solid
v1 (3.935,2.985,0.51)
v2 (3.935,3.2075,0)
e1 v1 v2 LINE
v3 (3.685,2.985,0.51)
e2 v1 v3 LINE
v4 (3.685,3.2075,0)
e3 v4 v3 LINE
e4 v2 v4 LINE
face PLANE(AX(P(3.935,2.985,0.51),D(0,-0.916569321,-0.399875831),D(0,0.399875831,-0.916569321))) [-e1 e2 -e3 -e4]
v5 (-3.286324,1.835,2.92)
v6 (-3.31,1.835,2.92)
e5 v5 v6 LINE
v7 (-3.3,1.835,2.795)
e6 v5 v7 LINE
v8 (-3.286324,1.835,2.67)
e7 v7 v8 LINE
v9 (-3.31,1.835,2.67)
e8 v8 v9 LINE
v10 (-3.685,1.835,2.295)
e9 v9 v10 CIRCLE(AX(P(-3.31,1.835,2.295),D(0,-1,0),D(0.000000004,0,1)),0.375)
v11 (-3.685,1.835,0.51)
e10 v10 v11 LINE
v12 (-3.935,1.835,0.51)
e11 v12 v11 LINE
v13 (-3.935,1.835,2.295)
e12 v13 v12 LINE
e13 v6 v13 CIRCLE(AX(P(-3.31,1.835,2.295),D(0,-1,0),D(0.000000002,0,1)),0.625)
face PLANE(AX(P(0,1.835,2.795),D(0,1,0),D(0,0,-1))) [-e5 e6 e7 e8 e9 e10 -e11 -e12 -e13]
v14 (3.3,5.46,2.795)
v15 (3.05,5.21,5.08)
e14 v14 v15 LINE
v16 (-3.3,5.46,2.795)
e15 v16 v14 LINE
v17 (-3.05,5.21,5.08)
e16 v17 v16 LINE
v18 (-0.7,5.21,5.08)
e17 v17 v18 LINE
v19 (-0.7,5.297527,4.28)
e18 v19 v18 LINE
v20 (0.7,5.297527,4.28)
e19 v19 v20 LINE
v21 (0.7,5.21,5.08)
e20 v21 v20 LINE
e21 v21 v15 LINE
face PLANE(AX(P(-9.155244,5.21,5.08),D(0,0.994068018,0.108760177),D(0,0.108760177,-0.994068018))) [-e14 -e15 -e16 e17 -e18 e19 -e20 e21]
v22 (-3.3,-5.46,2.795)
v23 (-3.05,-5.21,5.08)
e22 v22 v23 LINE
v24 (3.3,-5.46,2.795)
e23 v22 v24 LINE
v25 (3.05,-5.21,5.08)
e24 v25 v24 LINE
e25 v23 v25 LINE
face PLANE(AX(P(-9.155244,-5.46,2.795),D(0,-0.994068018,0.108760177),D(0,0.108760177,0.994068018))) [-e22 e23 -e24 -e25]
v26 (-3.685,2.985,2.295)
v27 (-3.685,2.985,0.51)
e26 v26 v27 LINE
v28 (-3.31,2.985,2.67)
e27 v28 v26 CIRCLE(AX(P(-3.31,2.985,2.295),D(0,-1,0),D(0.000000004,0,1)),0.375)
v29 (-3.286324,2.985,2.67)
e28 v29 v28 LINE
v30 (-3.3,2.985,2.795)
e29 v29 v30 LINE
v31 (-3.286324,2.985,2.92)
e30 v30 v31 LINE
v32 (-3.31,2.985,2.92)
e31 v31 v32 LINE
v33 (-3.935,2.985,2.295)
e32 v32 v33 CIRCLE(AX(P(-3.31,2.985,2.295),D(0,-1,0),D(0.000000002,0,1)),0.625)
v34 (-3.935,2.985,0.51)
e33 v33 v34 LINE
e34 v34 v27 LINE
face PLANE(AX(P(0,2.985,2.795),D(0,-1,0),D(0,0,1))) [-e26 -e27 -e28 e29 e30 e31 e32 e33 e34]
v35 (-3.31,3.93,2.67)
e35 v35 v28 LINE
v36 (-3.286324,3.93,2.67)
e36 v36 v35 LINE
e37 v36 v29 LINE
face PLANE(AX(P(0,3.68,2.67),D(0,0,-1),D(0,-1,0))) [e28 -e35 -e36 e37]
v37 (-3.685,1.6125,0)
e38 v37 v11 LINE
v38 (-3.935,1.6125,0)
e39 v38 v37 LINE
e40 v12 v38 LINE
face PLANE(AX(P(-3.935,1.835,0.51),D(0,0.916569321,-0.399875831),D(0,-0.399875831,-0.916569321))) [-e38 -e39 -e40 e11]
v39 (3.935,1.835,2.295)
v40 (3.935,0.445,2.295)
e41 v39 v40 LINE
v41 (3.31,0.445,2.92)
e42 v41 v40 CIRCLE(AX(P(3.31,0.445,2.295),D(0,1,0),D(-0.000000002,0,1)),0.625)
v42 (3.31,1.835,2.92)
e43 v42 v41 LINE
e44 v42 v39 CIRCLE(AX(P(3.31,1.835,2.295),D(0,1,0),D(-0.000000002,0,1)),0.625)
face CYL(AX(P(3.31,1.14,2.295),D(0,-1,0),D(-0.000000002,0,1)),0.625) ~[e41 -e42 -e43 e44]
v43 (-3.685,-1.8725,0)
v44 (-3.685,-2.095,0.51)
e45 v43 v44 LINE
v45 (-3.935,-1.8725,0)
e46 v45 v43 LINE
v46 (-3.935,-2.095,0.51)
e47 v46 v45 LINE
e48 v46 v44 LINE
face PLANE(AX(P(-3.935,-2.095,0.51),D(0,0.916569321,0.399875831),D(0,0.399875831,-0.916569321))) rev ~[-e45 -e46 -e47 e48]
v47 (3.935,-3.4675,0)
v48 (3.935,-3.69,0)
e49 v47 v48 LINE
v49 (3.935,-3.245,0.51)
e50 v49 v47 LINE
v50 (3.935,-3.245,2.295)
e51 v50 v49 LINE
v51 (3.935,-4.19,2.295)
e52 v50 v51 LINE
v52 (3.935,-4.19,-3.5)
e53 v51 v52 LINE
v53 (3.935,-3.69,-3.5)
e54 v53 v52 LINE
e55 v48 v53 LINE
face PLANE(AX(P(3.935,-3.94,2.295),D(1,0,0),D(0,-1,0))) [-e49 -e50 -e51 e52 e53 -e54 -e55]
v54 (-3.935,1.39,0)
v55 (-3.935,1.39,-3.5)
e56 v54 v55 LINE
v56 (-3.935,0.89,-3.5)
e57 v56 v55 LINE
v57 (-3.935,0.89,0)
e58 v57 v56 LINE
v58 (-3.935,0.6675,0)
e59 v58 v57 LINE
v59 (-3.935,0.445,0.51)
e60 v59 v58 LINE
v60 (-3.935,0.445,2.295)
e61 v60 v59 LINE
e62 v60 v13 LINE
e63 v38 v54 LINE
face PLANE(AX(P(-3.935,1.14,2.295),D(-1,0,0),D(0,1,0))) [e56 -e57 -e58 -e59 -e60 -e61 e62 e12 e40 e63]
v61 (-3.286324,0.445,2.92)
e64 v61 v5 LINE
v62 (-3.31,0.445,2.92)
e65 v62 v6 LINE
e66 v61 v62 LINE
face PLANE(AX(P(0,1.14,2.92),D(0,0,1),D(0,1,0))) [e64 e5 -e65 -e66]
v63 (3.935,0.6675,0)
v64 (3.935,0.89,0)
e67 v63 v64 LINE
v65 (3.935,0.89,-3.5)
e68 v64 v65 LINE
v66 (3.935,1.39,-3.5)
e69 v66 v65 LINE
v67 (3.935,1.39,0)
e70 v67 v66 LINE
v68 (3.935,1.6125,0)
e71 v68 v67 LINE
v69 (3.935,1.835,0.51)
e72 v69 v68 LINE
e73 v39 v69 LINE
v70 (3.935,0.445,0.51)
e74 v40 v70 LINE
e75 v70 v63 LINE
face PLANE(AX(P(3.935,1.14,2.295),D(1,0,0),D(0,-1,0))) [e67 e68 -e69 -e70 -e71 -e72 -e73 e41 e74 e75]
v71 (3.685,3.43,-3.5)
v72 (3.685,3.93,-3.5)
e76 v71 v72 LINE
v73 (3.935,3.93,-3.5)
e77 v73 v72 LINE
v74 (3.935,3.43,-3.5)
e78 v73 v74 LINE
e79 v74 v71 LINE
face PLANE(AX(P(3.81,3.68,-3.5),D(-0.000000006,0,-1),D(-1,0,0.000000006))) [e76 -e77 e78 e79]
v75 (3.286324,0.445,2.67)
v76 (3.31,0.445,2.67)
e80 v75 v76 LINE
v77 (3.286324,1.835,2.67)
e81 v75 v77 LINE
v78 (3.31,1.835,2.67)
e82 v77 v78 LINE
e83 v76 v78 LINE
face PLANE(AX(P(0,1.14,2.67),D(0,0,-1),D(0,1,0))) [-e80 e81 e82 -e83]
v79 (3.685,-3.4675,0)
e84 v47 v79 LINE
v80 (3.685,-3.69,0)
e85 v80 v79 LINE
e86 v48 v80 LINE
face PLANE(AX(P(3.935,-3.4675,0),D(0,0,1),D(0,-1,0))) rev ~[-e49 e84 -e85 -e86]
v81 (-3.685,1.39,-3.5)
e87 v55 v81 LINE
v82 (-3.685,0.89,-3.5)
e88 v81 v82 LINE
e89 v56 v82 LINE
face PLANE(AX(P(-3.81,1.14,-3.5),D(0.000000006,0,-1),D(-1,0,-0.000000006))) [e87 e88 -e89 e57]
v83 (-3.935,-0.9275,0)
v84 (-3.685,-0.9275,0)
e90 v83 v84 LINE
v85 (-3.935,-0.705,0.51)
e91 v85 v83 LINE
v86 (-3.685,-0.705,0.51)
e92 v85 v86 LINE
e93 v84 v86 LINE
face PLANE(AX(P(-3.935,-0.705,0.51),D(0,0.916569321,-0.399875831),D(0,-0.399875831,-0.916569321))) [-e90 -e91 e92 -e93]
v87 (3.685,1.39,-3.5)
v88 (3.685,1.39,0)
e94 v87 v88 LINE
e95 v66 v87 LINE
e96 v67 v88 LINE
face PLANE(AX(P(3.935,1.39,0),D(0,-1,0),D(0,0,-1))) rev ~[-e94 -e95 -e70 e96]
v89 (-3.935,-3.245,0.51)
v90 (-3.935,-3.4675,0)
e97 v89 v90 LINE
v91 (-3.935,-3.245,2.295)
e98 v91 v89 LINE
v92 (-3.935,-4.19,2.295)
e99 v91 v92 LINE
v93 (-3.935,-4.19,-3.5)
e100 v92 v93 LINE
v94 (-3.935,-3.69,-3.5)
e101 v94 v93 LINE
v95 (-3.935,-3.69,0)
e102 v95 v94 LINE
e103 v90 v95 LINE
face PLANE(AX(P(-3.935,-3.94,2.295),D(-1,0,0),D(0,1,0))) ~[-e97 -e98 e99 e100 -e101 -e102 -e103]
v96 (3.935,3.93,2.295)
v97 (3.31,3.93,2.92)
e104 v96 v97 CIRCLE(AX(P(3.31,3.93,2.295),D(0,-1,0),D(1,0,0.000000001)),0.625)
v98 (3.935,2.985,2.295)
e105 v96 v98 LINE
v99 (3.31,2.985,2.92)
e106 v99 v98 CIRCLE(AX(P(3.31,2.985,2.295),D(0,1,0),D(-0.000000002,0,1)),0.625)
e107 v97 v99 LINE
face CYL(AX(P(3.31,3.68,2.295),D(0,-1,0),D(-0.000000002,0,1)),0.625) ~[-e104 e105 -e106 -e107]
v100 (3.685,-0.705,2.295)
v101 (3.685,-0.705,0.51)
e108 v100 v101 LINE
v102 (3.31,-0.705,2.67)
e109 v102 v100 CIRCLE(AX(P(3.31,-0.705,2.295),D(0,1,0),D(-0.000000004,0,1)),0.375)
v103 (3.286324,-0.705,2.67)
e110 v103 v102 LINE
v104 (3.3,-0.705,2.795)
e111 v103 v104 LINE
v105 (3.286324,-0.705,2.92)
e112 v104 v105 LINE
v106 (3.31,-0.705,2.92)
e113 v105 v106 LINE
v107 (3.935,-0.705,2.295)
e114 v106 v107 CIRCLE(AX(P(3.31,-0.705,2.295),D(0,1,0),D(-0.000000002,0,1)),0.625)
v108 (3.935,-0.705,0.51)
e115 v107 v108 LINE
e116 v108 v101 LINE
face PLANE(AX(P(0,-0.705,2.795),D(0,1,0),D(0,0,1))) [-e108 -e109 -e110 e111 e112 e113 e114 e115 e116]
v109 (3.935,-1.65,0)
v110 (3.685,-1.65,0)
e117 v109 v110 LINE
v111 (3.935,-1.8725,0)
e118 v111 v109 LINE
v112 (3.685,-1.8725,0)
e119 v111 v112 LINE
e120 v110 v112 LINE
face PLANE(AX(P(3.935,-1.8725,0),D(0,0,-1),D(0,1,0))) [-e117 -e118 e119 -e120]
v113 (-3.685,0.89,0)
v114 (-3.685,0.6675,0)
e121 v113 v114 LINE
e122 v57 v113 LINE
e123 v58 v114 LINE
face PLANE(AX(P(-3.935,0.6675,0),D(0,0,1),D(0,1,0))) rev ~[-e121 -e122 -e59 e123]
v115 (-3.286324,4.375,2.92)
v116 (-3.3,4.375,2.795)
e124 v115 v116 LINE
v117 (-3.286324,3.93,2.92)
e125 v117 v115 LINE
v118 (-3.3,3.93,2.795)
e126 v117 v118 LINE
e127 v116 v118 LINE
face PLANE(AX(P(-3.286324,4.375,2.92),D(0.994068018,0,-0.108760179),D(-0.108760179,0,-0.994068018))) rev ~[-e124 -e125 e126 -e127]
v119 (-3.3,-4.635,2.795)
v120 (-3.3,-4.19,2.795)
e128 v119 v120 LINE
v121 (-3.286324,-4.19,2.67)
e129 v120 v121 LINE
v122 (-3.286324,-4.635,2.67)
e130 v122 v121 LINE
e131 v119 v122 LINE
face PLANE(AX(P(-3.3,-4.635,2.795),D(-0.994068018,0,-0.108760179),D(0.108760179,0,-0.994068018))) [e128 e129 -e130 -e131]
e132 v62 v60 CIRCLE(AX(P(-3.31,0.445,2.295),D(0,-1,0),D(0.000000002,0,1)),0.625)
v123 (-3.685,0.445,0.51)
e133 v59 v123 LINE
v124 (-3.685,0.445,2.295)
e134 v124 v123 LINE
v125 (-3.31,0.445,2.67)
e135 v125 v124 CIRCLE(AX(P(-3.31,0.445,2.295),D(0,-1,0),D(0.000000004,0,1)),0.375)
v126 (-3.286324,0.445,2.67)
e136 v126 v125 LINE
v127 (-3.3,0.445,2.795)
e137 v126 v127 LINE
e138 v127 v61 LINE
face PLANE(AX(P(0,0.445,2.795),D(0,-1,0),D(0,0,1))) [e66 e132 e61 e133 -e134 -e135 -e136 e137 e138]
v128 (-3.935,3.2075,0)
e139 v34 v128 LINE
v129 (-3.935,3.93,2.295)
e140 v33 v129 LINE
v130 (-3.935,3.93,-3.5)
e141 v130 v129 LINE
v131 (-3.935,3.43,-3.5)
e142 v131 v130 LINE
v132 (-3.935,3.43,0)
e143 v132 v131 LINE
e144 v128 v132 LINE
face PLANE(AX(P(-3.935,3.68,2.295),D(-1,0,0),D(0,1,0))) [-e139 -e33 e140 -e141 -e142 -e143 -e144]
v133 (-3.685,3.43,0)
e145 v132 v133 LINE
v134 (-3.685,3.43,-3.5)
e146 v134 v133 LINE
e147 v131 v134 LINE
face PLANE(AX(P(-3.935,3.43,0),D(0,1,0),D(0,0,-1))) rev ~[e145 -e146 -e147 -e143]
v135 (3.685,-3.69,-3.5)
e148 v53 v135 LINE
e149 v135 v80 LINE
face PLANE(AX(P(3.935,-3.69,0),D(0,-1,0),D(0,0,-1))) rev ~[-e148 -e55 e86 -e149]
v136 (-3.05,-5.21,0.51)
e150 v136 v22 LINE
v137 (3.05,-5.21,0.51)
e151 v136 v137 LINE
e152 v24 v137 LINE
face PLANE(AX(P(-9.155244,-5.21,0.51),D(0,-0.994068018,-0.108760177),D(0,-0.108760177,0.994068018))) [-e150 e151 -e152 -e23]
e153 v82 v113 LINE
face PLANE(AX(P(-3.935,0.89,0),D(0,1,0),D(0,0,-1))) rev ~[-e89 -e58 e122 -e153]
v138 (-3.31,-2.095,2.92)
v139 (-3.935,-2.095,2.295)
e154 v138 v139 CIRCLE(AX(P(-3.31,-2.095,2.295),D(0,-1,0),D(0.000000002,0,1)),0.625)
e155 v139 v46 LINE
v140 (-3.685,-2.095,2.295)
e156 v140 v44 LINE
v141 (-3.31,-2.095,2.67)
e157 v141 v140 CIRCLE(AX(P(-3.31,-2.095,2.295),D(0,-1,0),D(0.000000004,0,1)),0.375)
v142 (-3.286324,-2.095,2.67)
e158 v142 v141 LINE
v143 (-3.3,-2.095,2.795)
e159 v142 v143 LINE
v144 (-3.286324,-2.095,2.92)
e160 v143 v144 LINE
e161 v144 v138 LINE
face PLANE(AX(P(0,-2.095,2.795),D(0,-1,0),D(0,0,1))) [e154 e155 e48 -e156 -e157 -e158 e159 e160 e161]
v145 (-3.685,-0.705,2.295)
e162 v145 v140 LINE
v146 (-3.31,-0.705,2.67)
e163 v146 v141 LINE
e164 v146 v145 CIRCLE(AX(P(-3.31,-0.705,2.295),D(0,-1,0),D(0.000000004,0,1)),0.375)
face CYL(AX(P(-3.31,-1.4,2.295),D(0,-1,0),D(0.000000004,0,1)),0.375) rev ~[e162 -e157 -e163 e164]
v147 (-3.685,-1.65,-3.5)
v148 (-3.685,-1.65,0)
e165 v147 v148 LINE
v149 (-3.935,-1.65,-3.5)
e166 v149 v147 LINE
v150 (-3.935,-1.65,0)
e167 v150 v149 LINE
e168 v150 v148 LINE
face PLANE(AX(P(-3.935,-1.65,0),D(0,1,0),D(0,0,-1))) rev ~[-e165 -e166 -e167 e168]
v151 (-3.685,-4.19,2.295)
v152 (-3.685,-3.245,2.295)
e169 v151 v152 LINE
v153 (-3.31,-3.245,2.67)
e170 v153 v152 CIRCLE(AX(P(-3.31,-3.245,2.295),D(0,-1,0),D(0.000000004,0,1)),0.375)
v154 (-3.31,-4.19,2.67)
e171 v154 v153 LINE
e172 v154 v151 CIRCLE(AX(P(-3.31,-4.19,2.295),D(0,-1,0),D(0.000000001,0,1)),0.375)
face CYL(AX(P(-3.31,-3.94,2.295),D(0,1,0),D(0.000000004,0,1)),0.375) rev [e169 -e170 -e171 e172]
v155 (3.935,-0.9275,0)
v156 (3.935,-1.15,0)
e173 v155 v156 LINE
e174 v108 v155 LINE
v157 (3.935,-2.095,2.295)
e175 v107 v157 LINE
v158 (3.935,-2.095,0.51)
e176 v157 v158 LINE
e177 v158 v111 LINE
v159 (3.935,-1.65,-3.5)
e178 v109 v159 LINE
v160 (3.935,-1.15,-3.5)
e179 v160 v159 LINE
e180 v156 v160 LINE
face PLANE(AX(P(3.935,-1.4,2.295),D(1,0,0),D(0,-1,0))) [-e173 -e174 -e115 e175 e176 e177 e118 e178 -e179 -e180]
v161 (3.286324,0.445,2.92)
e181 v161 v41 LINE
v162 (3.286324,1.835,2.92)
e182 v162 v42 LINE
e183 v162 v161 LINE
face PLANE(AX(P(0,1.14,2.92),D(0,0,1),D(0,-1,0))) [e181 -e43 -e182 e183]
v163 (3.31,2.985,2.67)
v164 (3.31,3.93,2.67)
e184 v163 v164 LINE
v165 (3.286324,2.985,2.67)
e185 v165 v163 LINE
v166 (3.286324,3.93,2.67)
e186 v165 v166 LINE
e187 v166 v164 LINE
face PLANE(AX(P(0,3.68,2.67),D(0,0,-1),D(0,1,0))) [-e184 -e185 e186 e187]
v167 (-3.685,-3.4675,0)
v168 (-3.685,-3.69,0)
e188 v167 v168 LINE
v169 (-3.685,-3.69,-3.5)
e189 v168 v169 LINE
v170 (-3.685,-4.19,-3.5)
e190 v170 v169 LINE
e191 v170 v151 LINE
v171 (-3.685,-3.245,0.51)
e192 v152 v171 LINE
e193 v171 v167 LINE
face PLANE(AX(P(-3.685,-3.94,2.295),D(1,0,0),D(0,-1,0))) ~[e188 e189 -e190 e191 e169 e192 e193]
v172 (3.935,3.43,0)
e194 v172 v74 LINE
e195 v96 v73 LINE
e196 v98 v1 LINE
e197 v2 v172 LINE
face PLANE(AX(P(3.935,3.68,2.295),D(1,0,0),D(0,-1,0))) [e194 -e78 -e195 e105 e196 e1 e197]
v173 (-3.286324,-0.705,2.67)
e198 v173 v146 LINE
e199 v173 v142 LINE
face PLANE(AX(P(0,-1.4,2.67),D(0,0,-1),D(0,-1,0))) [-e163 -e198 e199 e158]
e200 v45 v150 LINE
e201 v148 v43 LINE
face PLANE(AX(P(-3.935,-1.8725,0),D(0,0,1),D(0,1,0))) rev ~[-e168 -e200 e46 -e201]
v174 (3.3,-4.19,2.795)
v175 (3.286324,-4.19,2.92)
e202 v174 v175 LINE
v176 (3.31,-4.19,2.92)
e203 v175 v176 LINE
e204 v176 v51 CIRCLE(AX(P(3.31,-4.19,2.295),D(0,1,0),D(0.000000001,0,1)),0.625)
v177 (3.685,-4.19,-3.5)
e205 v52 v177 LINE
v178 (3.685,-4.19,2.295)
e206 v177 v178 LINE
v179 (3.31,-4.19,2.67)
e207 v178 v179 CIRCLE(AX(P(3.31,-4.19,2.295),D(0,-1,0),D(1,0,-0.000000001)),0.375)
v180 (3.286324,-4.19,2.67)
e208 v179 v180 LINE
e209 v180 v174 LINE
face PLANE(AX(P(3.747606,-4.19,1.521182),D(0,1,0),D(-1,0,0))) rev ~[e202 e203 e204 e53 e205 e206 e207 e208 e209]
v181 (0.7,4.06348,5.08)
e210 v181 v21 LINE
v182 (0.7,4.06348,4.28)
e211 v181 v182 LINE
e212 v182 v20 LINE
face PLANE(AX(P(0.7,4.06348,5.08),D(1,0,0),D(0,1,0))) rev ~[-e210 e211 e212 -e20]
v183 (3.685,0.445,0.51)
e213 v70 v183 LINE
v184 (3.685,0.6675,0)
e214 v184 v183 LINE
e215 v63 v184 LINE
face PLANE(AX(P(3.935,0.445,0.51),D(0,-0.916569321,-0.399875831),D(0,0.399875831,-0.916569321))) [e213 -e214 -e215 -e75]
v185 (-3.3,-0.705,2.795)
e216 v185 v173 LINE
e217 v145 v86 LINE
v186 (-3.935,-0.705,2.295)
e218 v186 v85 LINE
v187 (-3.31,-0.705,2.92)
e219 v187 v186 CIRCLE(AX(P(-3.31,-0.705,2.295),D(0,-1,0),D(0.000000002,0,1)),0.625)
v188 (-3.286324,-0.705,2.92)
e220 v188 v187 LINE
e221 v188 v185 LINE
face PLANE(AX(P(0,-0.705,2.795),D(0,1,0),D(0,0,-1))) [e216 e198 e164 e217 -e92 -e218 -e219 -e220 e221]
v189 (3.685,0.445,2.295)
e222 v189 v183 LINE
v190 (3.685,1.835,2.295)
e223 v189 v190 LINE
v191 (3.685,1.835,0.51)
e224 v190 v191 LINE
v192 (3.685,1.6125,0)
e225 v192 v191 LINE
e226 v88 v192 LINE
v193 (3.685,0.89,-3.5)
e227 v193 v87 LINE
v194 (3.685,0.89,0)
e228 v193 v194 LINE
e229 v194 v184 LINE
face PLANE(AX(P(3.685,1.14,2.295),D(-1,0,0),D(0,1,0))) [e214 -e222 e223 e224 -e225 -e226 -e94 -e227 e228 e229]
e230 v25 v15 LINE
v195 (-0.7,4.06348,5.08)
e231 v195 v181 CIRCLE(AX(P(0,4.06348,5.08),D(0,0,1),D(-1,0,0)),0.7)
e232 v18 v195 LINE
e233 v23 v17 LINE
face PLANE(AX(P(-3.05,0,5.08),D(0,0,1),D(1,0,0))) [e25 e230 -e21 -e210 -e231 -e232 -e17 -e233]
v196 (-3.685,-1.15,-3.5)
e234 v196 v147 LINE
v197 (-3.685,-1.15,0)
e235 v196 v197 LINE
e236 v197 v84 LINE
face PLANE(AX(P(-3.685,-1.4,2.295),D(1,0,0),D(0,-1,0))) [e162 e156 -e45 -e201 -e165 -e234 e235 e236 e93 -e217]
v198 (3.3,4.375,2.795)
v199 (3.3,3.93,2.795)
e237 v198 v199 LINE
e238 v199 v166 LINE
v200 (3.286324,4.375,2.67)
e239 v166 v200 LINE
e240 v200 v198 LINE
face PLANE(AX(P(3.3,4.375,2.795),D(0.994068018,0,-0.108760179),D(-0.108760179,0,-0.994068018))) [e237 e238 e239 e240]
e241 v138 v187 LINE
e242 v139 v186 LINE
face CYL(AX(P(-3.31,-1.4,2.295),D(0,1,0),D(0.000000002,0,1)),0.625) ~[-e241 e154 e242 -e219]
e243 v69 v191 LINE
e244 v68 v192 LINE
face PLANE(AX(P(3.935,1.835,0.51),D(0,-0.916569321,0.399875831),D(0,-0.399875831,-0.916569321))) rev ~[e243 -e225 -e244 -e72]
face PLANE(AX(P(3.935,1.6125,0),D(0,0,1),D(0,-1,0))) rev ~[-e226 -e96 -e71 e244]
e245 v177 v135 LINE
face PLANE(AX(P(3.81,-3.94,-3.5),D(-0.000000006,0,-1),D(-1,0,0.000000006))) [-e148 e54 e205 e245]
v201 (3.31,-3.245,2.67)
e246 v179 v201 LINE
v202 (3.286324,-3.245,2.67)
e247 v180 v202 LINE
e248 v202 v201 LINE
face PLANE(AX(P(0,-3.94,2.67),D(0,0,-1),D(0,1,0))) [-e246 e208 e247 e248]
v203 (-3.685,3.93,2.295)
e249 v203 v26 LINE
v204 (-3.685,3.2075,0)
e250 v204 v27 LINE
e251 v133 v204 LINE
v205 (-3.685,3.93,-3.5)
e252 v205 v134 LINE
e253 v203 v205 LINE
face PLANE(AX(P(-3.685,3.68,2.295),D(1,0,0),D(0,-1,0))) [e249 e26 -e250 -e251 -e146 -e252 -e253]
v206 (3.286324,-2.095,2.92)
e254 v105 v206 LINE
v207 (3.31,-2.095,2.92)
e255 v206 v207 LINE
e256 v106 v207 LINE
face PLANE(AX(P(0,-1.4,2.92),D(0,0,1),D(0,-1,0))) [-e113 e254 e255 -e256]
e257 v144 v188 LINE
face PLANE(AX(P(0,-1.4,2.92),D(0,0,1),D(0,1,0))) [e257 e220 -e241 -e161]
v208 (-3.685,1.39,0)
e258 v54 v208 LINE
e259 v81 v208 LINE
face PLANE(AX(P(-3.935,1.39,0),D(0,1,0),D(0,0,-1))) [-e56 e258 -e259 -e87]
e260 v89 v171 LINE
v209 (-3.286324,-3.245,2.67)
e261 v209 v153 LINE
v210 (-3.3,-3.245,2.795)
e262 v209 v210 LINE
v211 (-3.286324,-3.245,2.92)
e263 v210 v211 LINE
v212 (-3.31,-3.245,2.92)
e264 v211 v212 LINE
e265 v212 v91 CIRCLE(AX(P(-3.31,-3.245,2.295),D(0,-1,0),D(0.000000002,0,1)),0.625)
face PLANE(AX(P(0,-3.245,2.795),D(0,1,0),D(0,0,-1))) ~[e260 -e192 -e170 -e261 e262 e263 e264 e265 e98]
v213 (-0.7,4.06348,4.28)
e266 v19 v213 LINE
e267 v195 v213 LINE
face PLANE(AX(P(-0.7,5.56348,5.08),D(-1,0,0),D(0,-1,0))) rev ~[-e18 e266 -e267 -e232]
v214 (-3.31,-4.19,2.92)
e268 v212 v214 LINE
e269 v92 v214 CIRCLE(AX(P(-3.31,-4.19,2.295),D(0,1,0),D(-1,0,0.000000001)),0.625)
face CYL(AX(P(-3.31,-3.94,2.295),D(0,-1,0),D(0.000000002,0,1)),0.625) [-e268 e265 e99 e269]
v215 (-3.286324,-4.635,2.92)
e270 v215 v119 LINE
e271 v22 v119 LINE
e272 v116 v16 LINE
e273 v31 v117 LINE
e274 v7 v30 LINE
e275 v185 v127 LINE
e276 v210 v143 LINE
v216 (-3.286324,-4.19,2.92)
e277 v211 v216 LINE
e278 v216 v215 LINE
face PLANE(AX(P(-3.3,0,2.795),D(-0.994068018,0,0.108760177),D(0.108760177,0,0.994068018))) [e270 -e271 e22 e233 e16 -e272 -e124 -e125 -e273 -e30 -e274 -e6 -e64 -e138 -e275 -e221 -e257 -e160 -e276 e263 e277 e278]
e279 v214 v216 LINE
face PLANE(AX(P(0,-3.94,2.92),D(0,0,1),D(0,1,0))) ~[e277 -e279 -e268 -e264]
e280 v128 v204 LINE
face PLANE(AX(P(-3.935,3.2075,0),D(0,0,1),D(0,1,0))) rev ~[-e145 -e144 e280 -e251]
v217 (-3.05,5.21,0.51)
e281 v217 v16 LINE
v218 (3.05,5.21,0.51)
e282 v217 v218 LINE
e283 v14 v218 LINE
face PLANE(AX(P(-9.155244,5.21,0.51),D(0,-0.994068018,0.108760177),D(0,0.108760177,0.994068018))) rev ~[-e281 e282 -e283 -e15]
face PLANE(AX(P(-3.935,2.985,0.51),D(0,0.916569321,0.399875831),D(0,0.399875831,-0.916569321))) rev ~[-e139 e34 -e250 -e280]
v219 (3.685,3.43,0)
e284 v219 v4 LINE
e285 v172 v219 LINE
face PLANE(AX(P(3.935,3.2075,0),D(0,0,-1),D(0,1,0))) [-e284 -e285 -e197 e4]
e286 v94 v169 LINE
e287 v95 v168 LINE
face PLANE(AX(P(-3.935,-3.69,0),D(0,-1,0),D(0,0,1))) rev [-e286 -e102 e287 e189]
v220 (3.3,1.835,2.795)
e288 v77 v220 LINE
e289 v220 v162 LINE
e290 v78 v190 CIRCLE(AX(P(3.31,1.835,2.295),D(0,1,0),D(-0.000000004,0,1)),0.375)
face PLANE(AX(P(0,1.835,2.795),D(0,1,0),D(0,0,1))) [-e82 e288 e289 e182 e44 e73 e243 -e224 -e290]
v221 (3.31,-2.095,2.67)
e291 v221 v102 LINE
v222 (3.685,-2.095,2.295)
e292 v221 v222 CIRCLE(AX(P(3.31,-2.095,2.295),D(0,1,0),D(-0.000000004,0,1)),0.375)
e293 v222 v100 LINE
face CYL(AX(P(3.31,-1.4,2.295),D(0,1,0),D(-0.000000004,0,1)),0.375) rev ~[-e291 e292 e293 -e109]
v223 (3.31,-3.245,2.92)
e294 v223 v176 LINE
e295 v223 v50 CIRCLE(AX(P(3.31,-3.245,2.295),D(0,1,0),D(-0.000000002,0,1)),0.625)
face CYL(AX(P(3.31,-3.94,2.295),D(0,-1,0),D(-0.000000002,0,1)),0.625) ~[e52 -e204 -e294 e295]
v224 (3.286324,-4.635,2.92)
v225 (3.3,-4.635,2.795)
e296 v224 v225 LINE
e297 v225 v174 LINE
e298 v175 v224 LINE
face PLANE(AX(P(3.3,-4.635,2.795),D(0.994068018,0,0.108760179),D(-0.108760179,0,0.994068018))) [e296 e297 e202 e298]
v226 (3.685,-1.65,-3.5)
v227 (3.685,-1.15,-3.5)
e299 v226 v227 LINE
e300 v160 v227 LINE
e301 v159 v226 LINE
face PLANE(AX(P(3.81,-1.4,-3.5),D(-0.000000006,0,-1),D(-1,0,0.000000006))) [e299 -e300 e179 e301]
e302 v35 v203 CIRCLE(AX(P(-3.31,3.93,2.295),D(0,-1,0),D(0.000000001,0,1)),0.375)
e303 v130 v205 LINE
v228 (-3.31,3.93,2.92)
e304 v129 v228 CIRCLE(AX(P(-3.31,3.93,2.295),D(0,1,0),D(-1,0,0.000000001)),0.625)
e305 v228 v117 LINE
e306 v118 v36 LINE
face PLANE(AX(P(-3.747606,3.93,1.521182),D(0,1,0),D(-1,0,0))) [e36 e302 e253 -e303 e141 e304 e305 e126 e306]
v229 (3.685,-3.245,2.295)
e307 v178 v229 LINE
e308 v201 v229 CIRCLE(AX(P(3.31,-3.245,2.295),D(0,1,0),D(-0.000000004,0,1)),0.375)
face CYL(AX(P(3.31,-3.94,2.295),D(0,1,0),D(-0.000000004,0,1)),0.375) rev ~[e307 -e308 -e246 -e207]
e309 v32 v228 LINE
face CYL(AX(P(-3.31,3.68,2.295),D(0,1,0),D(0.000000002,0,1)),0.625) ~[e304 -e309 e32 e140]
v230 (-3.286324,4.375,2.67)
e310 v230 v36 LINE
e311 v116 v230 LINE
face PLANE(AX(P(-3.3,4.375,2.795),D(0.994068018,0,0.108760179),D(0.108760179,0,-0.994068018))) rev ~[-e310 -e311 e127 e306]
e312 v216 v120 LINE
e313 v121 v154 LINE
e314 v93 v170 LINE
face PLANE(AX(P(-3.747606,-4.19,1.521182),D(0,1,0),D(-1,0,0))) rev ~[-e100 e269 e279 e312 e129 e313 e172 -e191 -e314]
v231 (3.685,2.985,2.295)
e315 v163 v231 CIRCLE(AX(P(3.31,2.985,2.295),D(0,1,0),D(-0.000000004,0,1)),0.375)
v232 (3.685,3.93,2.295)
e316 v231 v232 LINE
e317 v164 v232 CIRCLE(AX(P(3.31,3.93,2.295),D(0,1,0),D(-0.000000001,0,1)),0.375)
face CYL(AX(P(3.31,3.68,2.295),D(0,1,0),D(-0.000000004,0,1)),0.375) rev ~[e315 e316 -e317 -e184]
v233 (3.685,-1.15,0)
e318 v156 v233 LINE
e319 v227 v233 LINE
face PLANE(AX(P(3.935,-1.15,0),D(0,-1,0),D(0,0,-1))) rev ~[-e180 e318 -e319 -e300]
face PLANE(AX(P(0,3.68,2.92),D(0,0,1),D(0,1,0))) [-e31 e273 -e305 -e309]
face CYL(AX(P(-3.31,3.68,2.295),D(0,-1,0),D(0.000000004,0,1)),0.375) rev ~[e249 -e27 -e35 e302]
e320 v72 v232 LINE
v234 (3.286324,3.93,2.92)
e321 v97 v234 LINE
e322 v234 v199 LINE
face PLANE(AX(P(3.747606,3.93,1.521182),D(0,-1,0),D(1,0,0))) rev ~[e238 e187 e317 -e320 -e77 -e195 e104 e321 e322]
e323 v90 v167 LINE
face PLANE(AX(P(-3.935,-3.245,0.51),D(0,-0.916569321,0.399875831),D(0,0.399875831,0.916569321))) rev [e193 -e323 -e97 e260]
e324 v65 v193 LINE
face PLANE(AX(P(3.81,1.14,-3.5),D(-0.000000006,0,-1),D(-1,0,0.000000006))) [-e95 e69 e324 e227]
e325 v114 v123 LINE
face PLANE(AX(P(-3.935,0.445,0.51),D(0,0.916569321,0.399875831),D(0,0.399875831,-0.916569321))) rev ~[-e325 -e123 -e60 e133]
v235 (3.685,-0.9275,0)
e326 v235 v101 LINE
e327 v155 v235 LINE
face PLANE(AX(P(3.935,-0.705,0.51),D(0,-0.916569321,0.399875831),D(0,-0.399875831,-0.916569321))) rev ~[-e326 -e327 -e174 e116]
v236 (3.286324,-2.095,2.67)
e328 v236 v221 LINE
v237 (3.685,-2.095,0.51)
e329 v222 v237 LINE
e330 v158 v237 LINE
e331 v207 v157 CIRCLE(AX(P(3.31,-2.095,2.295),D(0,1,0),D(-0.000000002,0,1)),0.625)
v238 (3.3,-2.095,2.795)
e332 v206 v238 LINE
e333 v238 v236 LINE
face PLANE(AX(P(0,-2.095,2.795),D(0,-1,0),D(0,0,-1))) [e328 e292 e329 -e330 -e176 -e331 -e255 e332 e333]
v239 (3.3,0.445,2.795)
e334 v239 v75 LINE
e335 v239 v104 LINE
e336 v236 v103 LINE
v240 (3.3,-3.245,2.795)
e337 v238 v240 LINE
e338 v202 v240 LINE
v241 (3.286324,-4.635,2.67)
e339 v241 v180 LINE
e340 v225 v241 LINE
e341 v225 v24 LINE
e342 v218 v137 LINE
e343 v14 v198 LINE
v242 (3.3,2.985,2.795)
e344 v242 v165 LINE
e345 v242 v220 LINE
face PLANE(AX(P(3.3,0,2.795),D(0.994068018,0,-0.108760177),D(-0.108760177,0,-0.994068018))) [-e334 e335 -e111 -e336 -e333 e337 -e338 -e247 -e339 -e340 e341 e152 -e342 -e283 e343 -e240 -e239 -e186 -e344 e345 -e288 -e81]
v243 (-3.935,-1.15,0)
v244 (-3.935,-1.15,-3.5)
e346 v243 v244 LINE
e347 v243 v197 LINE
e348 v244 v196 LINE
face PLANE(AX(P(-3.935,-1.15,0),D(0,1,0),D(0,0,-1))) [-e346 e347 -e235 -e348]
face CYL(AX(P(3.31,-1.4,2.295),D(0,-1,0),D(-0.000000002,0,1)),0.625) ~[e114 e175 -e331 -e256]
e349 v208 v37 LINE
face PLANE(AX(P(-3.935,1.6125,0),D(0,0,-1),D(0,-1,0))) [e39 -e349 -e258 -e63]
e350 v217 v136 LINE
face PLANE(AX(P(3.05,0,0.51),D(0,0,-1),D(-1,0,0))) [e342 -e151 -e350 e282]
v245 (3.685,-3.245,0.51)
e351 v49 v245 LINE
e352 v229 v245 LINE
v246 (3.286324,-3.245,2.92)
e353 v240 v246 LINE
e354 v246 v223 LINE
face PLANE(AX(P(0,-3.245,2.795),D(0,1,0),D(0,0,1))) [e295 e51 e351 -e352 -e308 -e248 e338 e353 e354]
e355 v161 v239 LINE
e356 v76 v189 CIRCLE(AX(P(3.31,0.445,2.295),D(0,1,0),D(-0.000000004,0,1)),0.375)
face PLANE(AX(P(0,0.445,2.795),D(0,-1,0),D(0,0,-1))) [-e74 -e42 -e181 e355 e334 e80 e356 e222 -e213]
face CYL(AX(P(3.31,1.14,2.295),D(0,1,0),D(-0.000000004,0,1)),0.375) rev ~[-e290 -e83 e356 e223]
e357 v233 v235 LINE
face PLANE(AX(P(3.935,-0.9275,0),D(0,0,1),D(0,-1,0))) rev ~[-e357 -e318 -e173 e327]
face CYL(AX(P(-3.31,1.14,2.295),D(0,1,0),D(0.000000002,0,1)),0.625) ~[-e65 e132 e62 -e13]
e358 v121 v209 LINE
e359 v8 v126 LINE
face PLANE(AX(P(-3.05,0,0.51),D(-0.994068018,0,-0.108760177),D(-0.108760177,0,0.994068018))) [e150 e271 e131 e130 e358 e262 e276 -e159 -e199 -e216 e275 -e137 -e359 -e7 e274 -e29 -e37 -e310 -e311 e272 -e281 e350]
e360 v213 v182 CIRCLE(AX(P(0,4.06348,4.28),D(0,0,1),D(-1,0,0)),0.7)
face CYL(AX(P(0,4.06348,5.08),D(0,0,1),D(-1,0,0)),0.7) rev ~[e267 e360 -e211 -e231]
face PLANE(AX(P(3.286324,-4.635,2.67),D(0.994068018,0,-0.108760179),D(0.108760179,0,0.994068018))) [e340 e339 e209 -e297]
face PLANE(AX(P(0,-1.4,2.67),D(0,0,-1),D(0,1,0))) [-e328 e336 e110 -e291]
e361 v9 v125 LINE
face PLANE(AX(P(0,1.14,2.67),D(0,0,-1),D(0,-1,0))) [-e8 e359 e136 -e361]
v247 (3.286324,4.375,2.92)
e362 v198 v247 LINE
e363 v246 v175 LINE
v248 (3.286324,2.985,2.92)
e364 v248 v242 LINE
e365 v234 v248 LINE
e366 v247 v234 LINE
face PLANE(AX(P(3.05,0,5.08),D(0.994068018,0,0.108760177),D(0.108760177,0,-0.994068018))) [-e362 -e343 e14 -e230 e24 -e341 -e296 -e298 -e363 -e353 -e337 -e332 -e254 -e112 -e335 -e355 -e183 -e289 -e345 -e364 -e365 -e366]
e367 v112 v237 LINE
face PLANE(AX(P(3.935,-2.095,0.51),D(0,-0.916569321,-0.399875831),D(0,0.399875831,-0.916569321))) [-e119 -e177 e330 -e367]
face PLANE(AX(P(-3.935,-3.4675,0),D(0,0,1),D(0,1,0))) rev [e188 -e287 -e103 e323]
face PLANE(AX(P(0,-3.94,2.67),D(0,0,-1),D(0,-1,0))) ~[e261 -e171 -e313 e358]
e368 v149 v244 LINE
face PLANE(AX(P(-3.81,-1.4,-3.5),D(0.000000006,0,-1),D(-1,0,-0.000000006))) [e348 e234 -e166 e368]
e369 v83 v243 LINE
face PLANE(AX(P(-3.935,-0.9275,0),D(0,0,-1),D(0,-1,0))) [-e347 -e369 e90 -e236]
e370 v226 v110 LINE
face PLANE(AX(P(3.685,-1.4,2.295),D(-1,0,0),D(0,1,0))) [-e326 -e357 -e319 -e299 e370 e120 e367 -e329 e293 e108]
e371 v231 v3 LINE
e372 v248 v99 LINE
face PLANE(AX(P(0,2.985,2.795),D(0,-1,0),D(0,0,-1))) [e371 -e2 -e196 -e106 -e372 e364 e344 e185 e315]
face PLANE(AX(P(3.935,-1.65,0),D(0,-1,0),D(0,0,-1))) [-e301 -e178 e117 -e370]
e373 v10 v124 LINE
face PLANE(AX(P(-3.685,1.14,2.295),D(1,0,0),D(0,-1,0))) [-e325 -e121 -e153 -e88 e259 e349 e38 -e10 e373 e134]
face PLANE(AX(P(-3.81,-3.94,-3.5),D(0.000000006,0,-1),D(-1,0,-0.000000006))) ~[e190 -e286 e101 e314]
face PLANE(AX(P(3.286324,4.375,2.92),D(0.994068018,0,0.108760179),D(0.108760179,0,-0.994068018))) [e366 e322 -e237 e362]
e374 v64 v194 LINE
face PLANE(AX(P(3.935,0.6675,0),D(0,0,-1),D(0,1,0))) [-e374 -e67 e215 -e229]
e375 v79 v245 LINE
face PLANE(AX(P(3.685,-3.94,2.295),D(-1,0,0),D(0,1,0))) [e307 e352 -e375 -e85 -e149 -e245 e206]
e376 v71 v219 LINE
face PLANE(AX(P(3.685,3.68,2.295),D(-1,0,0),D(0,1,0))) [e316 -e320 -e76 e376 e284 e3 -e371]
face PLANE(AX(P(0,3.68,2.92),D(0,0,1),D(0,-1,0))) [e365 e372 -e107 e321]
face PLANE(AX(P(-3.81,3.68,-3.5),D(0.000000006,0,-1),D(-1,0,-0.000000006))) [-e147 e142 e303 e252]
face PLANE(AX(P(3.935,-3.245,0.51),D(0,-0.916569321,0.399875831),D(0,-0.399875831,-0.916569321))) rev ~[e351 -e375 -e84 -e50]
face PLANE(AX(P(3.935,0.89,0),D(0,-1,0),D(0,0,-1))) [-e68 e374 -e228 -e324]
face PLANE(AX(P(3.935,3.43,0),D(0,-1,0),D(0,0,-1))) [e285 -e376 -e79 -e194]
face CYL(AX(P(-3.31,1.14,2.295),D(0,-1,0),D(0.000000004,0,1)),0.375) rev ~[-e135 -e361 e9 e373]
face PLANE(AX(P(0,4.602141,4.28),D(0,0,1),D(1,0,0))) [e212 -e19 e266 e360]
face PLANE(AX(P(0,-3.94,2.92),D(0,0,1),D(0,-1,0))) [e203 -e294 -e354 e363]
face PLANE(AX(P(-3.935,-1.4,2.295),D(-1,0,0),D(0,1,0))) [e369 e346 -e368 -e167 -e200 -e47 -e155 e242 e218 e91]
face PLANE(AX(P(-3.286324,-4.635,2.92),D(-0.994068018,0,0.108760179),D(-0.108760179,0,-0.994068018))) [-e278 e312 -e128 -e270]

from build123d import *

# Parameters (mm, degrees)
BASIC_SHAPE_DEPTH              = 5.46
SIDE_PROFILE1_DEPTH            = 9.155243712
SIDE_PROFILE1_DEPTH_BACK       = 9.155243712
SIDE_PROFILE2_DEPTH            = 9.155243712
SIDE_PROFILE2_DEPTH_BACK       = 9.155243712
LOCATION_MARK_DEPTH            = 0.8
SKETCH6_W                      = 0.25
SKETCH6_H                      = 1.39
PIN_RELIEF_DEPTH               = 11.390535357
REMAINING_PINS_COUNT           = 4
REMAINING_PINS_PITCH           = 2.54
REMAINING_PINS_COPY_1_SKETCH_W = 0.25
REMAINING_PINS_COPY_1_SKETCH_H = 1.39
REMAINING_PINS_COPY_2_SKETCH_W = 0.25
REMAINING_PINS_COPY_2_SKETCH_H = 1.39
REMAINING_PINS_COPY_3_SKETCH_W = 0.25
REMAINING_PINS_COPY_3_SKETCH_H = 1.39
REMAINING_PINS_COPY_4_DEPTH    = 11.390535357
REMAINING_PINS_COPY_5_DEPTH    = 11.390535357
REMAINING_PINS_COPY_6_DEPTH    = 11.390535357
PIN_SHAPE1_DEPTH               = 0.445
PIN_SHAPE2_DEPTH               = 0.445


with BuildPart() as part:
    # Sketch1 → Basic Shape (new, symmetric)
    with BuildSketch(Plane(origin=(0, 0, 0), x_dir=(1, 0, 0), z_dir=(0, 1, 0))):
        Polygon((-3.05, -0.51), (-3.3, -2.795), (-3.05, -5.08), (3.05, -5.08), (3.3, -2.795), (3.05, -0.51), align=None)
    extrude(amount=BASIC_SHAPE_DEPTH, both=True)

    # Sketch2 → Side Profile1 (cut, two sides: drawn at the far end of the back side and taken through both)
    with BuildSketch(Plane(origin=(0, 0, 0), x_dir=(0, 0, -1), z_dir=(1, 0, 0)).offset(-SIDE_PROFILE1_DEPTH_BACK)):
        Polygon((-5.08, 5.46), (-5.08, 5.21), (-2.795, 5.46), align=None)
        Polygon((-5.08, -5.46), (-2.795, -5.46), (-5.08, -5.21), align=None)
    extrude(amount=SIDE_PROFILE1_DEPTH + SIDE_PROFILE1_DEPTH_BACK, mode=Mode.SUBTRACT)

    # Sketch3 → Side Profile2 (cut, two sides: drawn at the far end of the back side and taken through both)
    with BuildSketch(Plane(origin=(0, 0, 0), x_dir=(0, 0, -1), z_dir=(1, 0, 0)).offset(-SIDE_PROFILE2_DEPTH_BACK)):
        Polygon((-2.795, 5.46), (-0.51, 5.46), (-0.51, 5.21), align=None)
        Polygon((-2.795, -5.46), (-0.51, -5.46), (-0.51, -5.21), align=None)
    extrude(amount=SIDE_PROFILE2_DEPTH + SIDE_PROFILE2_DEPTH_BACK, mode=Mode.SUBTRACT)

    # Sketch4 → Location Mark (cut)
    with BuildSketch(Plane(origin=(0, 0, 5.08), x_dir=(-1, 0, 0), z_dir=(0, 0, -1))):
        with BuildLine():
            Line((0.7, 5.563480235), (0.7, 4.063480235))
            ThreePointArc((0.7, 4.063480235), (0, 3.363480235), (-0.7, 4.063480235))
            Line((-0.7, 4.063480235), (-0.7, 5.563480235))
            Line((-0.7, 5.563480235), (0.7, 5.563480235))
        make_face()
    extrude(amount=LOCATION_MARK_DEPTH, mode=Mode.SUBTRACT)

    # First Pin: sweep along a path in Sketch5
    with BuildLine(Plane(origin=(0, -3.94, 0), x_dir=(1, 0, 0), z_dir=(0, 1, 0))) as first_pin_path:
        Line((0, -2.795), (3.31, -2.795))
        ThreePointArc((3.31, -2.795), (3.663553391, -2.648553391), (3.81, -2.295))
        Line((3.81, -2.295), (3.81, 3.5))
    # Sketch6 → First Pin (sweep)
    with BuildSketch(Plane(origin=(0, 0, 0), x_dir=(0, 0, -1), z_dir=(1, 0, 0))):
        with Locations((-2.795, -3.94)):
            Rectangle(SKETCH6_W, SKETCH6_H)
    first_pin = sweep(path=first_pin_path.line)

    # Sketch7 → Pin Relief (cut, through all)
    with BuildSketch(Plane(origin=(3.935, 0, 0), x_dir=(0, 0, -1), z_dir=(1, 0, 0))):
        Polygon((0, -4.19), (3.5, -4.19), (3.5, -4.635), (-0.51, -4.635), (0, -4.4125), align=None)
        Polygon((0, -3.69), (3.5, -3.69), (3.5, -3.245), (-0.51, -3.245), (0, -3.4675), align=None)
    pin_relief = extrude(amount=-PIN_RELIEF_DEPTH, mode=Mode.SUBTRACT)

    # Opp Pin: First Pin, Pin Relief across plane
    add(first_pin.mirror(Plane(origin=(0, 0, 0), x_dir=(0, 0, 1), z_dir=(1, 0, 0))))
    add(pin_relief.mirror(Plane(origin=(0, 0, 0), x_dir=(0, 0, 1), z_dir=(1, 0, 0))), mode=Mode.SUBTRACT)

    # Remaining Pins: First Pin, Pin Relief ×4
    with Locations(*[(0, i * REMAINING_PINS_PITCH, 0) for i in range(1, REMAINING_PINS_COUNT)]):
        add(first_pin)
        add(pin_relief, mode=Mode.SUBTRACT)

    # Remaining Pins copy 1: sweep along a path in Remaining Pins copy 1 path
    with BuildLine(Plane(origin=(0, -1.4, 0), x_dir=(-1, 0, 0), z_dir=(0, 1, 0))) as remaining_pins_copy_1_path:
        Line((0, 2.795), (3.31, 2.795))
        ThreePointArc((3.31, 2.795), (3.663553391, 2.648553391), (3.81, 2.295))
        Line((3.81, 2.295), (3.81, -3.5))
    # Remaining Pins copy 1 sketch → Remaining Pins copy 1 (sweep)
    with BuildSketch(Plane(origin=(0, 2.54, 0), x_dir=(0, 0, -1), z_dir=(-1, 0, 0))):
        with Locations((-2.795, 3.94)):
            Rectangle(REMAINING_PINS_COPY_1_SKETCH_W, REMAINING_PINS_COPY_1_SKETCH_H)
    sweep(path=remaining_pins_copy_1_path.line)

    # Remaining Pins copy 2: sweep along a path in Remaining Pins copy 2 path
    with BuildLine(Plane(origin=(0, 1.14, 0), x_dir=(-1, 0, 0), z_dir=(0, 1, 0))) as remaining_pins_copy_2_path:
        Line((0, 2.795), (3.31, 2.795))
        ThreePointArc((3.31, 2.795), (3.663553391, 2.648553391), (3.81, 2.295))
        Line((3.81, 2.295), (3.81, -3.5))
    # Remaining Pins copy 2 sketch → Remaining Pins copy 2 (sweep)
    with BuildSketch(Plane(origin=(0, 5.08, 0), x_dir=(0, 0, -1), z_dir=(-1, 0, 0))):
        with Locations((-2.795, 3.94)):
            Rectangle(REMAINING_PINS_COPY_2_SKETCH_W, REMAINING_PINS_COPY_2_SKETCH_H)
    sweep(path=remaining_pins_copy_2_path.line)

    # Remaining Pins copy 3: sweep along a path in Remaining Pins copy 3 path
    with BuildLine(Plane(origin=(0, 3.68, 0), x_dir=(-1, 0, 0), z_dir=(0, 1, 0))) as remaining_pins_copy_3_path:
        Line((0, 2.795), (3.31, 2.795))
        ThreePointArc((3.31, 2.795), (3.663553391, 2.648553391), (3.81, 2.295))
        Line((3.81, 2.295), (3.81, -3.5))
    # Remaining Pins copy 3 sketch → Remaining Pins copy 3 (sweep)
    with BuildSketch(Plane(origin=(0, 7.62, 0), x_dir=(0, 0, -1), z_dir=(-1, 0, 0))):
        with Locations((-2.795, 3.94)):
            Rectangle(REMAINING_PINS_COPY_3_SKETCH_W, REMAINING_PINS_COPY_3_SKETCH_H)
    sweep(path=remaining_pins_copy_3_path.line)

    # Remaining Pins copy 4 sketch → Remaining Pins copy 4 (cut, through all)
    with BuildSketch(Plane(origin=(-3.935, 2.54, 0), x_dir=(0, 0, -1), z_dir=(-1, 0, 0))):
        Polygon((0, 4.19), (3.5, 4.19), (3.5, 4.635), (-0.51, 4.635), (0, 4.4125), align=None)
        Polygon((0, 3.69), (3.5, 3.69), (3.5, 3.245), (-0.51, 3.245), (0, 3.4675), align=None)
    extrude(amount=-REMAINING_PINS_COPY_4_DEPTH, mode=Mode.SUBTRACT)

    # Remaining Pins copy 5 sketch → Remaining Pins copy 5 (cut, through all)
    with BuildSketch(Plane(origin=(-3.935, 5.08, 0), x_dir=(0, 0, -1), z_dir=(-1, 0, 0))):
        Polygon((0, 4.19), (3.5, 4.19), (3.5, 4.635), (-0.51, 4.635), (0, 4.4125), align=None)
        Polygon((0, 3.69), (3.5, 3.69), (3.5, 3.245), (-0.51, 3.245), (0, 3.4675), align=None)
    extrude(amount=-REMAINING_PINS_COPY_5_DEPTH, mode=Mode.SUBTRACT)

    # Remaining Pins copy 6 sketch → Remaining Pins copy 6 (cut, through all)
    with BuildSketch(Plane(origin=(-3.935, 7.62, 0), x_dir=(0, 0, -1), z_dir=(-1, 0, 0))):
        Polygon((0, 4.19), (3.5, 4.19), (3.5, 4.635), (-0.51, 4.635), (0, 4.4125), align=None)
        Polygon((0, 3.69), (3.5, 3.69), (3.5, 3.245), (-0.51, 3.245), (0, 3.4675), align=None)
    extrude(amount=-REMAINING_PINS_COPY_6_DEPTH, mode=Mode.SUBTRACT)

    # Sketch9 → Pin Shape1 (cut)
    with BuildSketch(Plane.XZ.offset(4.635)):
        with BuildLine():
            Line((3.935, 0), (3.685, 0))
            Line((3.685, 0), (3.685, 2.295))
            ThreePointArc((3.685, 2.295), (3.575165043, 2.560165043), (3.31, 2.67))
            Line((3.31, 2.67), (3.286323851, 2.67))
            Line((3.286323851, 2.67), (3.3, 2.795))
            Line((3.3, 2.795), (3.286323851, 2.92))
            Line((3.286323851, 2.92), (3.31, 2.92))
            ThreePointArc((3.31, 2.92), (3.751941738, 2.736941738), (3.935, 2.295))
            Line((3.935, 2.295), (3.935, 0))
        make_face()
        with BuildLine():
            Line((-3.685, 0), (-3.935, 0))
            Line((-3.935, 0), (-3.935, 2.295))
            ThreePointArc((-3.935, 2.295), (-3.751941738, 2.736941738), (-3.31, 2.92))
            Line((-3.31, 2.92), (-3.286323851, 2.92))
            Line((-3.286323851, 2.92), (-3.3, 2.795))
            Line((-3.3, 2.795), (-3.286323851, 2.67))
            Line((-3.286323851, 2.67), (-3.31, 2.67))
            ThreePointArc((-3.31, 2.67), (-3.575165043, 2.560165043), (-3.685, 2.295))
            Line((-3.685, 2.295), (-3.685, 0))
        make_face()
    extrude(amount=-PIN_SHAPE1_DEPTH, mode=Mode.SUBTRACT)

    # Sketch10 → Pin Shape2 (cut)
    with BuildSketch(Plane(origin=(0, 4.375, 0), x_dir=(-1, 0, 0), z_dir=(0, 1, 0))):
        with BuildLine():
            Line((3.685, 0), (3.935, 0))
            Line((3.935, 0), (3.935, 2.295))
            ThreePointArc((3.935, 2.295), (3.751941738, 2.736941738), (3.31, 2.92))
            Line((3.31, 2.92), (3.286323851, 2.92))
            Line((3.286323851, 2.92), (3.3, 2.795))
            Line((3.3, 2.795), (3.286323851, 2.67))
            Line((3.286323851, 2.67), (3.31, 2.67))
            ThreePointArc((3.31, 2.67), (3.575165043, 2.560165043), (3.685, 2.295))
            Line((3.685, 2.295), (3.685, 0))
        make_face()
        with BuildLine():
            Line((-3.685, 0), (-3.935, 0))
            Line((-3.935, 0), (-3.935, 2.295))
            ThreePointArc((-3.935, 2.295), (-3.751941738, 2.736941738), (-3.31, 2.92))
            Line((-3.31, 2.92), (-3.286323851, 2.92))
            Line((-3.286323851, 2.92), (-3.3, 2.795))
            Line((-3.3, 2.795), (-3.286323851, 2.67))
            Line((-3.286323851, 2.67), (-3.31, 2.67))
            ThreePointArc((-3.31, 2.67), (-3.575165043, 2.560165043), (-3.685, 2.295))
            Line((-3.685, 2.295), (-3.685, 0))
        make_face()
    extrude(amount=-PIN_SHAPE2_DEPTH, mode=Mode.SUBTRACT)


solid = part.part
